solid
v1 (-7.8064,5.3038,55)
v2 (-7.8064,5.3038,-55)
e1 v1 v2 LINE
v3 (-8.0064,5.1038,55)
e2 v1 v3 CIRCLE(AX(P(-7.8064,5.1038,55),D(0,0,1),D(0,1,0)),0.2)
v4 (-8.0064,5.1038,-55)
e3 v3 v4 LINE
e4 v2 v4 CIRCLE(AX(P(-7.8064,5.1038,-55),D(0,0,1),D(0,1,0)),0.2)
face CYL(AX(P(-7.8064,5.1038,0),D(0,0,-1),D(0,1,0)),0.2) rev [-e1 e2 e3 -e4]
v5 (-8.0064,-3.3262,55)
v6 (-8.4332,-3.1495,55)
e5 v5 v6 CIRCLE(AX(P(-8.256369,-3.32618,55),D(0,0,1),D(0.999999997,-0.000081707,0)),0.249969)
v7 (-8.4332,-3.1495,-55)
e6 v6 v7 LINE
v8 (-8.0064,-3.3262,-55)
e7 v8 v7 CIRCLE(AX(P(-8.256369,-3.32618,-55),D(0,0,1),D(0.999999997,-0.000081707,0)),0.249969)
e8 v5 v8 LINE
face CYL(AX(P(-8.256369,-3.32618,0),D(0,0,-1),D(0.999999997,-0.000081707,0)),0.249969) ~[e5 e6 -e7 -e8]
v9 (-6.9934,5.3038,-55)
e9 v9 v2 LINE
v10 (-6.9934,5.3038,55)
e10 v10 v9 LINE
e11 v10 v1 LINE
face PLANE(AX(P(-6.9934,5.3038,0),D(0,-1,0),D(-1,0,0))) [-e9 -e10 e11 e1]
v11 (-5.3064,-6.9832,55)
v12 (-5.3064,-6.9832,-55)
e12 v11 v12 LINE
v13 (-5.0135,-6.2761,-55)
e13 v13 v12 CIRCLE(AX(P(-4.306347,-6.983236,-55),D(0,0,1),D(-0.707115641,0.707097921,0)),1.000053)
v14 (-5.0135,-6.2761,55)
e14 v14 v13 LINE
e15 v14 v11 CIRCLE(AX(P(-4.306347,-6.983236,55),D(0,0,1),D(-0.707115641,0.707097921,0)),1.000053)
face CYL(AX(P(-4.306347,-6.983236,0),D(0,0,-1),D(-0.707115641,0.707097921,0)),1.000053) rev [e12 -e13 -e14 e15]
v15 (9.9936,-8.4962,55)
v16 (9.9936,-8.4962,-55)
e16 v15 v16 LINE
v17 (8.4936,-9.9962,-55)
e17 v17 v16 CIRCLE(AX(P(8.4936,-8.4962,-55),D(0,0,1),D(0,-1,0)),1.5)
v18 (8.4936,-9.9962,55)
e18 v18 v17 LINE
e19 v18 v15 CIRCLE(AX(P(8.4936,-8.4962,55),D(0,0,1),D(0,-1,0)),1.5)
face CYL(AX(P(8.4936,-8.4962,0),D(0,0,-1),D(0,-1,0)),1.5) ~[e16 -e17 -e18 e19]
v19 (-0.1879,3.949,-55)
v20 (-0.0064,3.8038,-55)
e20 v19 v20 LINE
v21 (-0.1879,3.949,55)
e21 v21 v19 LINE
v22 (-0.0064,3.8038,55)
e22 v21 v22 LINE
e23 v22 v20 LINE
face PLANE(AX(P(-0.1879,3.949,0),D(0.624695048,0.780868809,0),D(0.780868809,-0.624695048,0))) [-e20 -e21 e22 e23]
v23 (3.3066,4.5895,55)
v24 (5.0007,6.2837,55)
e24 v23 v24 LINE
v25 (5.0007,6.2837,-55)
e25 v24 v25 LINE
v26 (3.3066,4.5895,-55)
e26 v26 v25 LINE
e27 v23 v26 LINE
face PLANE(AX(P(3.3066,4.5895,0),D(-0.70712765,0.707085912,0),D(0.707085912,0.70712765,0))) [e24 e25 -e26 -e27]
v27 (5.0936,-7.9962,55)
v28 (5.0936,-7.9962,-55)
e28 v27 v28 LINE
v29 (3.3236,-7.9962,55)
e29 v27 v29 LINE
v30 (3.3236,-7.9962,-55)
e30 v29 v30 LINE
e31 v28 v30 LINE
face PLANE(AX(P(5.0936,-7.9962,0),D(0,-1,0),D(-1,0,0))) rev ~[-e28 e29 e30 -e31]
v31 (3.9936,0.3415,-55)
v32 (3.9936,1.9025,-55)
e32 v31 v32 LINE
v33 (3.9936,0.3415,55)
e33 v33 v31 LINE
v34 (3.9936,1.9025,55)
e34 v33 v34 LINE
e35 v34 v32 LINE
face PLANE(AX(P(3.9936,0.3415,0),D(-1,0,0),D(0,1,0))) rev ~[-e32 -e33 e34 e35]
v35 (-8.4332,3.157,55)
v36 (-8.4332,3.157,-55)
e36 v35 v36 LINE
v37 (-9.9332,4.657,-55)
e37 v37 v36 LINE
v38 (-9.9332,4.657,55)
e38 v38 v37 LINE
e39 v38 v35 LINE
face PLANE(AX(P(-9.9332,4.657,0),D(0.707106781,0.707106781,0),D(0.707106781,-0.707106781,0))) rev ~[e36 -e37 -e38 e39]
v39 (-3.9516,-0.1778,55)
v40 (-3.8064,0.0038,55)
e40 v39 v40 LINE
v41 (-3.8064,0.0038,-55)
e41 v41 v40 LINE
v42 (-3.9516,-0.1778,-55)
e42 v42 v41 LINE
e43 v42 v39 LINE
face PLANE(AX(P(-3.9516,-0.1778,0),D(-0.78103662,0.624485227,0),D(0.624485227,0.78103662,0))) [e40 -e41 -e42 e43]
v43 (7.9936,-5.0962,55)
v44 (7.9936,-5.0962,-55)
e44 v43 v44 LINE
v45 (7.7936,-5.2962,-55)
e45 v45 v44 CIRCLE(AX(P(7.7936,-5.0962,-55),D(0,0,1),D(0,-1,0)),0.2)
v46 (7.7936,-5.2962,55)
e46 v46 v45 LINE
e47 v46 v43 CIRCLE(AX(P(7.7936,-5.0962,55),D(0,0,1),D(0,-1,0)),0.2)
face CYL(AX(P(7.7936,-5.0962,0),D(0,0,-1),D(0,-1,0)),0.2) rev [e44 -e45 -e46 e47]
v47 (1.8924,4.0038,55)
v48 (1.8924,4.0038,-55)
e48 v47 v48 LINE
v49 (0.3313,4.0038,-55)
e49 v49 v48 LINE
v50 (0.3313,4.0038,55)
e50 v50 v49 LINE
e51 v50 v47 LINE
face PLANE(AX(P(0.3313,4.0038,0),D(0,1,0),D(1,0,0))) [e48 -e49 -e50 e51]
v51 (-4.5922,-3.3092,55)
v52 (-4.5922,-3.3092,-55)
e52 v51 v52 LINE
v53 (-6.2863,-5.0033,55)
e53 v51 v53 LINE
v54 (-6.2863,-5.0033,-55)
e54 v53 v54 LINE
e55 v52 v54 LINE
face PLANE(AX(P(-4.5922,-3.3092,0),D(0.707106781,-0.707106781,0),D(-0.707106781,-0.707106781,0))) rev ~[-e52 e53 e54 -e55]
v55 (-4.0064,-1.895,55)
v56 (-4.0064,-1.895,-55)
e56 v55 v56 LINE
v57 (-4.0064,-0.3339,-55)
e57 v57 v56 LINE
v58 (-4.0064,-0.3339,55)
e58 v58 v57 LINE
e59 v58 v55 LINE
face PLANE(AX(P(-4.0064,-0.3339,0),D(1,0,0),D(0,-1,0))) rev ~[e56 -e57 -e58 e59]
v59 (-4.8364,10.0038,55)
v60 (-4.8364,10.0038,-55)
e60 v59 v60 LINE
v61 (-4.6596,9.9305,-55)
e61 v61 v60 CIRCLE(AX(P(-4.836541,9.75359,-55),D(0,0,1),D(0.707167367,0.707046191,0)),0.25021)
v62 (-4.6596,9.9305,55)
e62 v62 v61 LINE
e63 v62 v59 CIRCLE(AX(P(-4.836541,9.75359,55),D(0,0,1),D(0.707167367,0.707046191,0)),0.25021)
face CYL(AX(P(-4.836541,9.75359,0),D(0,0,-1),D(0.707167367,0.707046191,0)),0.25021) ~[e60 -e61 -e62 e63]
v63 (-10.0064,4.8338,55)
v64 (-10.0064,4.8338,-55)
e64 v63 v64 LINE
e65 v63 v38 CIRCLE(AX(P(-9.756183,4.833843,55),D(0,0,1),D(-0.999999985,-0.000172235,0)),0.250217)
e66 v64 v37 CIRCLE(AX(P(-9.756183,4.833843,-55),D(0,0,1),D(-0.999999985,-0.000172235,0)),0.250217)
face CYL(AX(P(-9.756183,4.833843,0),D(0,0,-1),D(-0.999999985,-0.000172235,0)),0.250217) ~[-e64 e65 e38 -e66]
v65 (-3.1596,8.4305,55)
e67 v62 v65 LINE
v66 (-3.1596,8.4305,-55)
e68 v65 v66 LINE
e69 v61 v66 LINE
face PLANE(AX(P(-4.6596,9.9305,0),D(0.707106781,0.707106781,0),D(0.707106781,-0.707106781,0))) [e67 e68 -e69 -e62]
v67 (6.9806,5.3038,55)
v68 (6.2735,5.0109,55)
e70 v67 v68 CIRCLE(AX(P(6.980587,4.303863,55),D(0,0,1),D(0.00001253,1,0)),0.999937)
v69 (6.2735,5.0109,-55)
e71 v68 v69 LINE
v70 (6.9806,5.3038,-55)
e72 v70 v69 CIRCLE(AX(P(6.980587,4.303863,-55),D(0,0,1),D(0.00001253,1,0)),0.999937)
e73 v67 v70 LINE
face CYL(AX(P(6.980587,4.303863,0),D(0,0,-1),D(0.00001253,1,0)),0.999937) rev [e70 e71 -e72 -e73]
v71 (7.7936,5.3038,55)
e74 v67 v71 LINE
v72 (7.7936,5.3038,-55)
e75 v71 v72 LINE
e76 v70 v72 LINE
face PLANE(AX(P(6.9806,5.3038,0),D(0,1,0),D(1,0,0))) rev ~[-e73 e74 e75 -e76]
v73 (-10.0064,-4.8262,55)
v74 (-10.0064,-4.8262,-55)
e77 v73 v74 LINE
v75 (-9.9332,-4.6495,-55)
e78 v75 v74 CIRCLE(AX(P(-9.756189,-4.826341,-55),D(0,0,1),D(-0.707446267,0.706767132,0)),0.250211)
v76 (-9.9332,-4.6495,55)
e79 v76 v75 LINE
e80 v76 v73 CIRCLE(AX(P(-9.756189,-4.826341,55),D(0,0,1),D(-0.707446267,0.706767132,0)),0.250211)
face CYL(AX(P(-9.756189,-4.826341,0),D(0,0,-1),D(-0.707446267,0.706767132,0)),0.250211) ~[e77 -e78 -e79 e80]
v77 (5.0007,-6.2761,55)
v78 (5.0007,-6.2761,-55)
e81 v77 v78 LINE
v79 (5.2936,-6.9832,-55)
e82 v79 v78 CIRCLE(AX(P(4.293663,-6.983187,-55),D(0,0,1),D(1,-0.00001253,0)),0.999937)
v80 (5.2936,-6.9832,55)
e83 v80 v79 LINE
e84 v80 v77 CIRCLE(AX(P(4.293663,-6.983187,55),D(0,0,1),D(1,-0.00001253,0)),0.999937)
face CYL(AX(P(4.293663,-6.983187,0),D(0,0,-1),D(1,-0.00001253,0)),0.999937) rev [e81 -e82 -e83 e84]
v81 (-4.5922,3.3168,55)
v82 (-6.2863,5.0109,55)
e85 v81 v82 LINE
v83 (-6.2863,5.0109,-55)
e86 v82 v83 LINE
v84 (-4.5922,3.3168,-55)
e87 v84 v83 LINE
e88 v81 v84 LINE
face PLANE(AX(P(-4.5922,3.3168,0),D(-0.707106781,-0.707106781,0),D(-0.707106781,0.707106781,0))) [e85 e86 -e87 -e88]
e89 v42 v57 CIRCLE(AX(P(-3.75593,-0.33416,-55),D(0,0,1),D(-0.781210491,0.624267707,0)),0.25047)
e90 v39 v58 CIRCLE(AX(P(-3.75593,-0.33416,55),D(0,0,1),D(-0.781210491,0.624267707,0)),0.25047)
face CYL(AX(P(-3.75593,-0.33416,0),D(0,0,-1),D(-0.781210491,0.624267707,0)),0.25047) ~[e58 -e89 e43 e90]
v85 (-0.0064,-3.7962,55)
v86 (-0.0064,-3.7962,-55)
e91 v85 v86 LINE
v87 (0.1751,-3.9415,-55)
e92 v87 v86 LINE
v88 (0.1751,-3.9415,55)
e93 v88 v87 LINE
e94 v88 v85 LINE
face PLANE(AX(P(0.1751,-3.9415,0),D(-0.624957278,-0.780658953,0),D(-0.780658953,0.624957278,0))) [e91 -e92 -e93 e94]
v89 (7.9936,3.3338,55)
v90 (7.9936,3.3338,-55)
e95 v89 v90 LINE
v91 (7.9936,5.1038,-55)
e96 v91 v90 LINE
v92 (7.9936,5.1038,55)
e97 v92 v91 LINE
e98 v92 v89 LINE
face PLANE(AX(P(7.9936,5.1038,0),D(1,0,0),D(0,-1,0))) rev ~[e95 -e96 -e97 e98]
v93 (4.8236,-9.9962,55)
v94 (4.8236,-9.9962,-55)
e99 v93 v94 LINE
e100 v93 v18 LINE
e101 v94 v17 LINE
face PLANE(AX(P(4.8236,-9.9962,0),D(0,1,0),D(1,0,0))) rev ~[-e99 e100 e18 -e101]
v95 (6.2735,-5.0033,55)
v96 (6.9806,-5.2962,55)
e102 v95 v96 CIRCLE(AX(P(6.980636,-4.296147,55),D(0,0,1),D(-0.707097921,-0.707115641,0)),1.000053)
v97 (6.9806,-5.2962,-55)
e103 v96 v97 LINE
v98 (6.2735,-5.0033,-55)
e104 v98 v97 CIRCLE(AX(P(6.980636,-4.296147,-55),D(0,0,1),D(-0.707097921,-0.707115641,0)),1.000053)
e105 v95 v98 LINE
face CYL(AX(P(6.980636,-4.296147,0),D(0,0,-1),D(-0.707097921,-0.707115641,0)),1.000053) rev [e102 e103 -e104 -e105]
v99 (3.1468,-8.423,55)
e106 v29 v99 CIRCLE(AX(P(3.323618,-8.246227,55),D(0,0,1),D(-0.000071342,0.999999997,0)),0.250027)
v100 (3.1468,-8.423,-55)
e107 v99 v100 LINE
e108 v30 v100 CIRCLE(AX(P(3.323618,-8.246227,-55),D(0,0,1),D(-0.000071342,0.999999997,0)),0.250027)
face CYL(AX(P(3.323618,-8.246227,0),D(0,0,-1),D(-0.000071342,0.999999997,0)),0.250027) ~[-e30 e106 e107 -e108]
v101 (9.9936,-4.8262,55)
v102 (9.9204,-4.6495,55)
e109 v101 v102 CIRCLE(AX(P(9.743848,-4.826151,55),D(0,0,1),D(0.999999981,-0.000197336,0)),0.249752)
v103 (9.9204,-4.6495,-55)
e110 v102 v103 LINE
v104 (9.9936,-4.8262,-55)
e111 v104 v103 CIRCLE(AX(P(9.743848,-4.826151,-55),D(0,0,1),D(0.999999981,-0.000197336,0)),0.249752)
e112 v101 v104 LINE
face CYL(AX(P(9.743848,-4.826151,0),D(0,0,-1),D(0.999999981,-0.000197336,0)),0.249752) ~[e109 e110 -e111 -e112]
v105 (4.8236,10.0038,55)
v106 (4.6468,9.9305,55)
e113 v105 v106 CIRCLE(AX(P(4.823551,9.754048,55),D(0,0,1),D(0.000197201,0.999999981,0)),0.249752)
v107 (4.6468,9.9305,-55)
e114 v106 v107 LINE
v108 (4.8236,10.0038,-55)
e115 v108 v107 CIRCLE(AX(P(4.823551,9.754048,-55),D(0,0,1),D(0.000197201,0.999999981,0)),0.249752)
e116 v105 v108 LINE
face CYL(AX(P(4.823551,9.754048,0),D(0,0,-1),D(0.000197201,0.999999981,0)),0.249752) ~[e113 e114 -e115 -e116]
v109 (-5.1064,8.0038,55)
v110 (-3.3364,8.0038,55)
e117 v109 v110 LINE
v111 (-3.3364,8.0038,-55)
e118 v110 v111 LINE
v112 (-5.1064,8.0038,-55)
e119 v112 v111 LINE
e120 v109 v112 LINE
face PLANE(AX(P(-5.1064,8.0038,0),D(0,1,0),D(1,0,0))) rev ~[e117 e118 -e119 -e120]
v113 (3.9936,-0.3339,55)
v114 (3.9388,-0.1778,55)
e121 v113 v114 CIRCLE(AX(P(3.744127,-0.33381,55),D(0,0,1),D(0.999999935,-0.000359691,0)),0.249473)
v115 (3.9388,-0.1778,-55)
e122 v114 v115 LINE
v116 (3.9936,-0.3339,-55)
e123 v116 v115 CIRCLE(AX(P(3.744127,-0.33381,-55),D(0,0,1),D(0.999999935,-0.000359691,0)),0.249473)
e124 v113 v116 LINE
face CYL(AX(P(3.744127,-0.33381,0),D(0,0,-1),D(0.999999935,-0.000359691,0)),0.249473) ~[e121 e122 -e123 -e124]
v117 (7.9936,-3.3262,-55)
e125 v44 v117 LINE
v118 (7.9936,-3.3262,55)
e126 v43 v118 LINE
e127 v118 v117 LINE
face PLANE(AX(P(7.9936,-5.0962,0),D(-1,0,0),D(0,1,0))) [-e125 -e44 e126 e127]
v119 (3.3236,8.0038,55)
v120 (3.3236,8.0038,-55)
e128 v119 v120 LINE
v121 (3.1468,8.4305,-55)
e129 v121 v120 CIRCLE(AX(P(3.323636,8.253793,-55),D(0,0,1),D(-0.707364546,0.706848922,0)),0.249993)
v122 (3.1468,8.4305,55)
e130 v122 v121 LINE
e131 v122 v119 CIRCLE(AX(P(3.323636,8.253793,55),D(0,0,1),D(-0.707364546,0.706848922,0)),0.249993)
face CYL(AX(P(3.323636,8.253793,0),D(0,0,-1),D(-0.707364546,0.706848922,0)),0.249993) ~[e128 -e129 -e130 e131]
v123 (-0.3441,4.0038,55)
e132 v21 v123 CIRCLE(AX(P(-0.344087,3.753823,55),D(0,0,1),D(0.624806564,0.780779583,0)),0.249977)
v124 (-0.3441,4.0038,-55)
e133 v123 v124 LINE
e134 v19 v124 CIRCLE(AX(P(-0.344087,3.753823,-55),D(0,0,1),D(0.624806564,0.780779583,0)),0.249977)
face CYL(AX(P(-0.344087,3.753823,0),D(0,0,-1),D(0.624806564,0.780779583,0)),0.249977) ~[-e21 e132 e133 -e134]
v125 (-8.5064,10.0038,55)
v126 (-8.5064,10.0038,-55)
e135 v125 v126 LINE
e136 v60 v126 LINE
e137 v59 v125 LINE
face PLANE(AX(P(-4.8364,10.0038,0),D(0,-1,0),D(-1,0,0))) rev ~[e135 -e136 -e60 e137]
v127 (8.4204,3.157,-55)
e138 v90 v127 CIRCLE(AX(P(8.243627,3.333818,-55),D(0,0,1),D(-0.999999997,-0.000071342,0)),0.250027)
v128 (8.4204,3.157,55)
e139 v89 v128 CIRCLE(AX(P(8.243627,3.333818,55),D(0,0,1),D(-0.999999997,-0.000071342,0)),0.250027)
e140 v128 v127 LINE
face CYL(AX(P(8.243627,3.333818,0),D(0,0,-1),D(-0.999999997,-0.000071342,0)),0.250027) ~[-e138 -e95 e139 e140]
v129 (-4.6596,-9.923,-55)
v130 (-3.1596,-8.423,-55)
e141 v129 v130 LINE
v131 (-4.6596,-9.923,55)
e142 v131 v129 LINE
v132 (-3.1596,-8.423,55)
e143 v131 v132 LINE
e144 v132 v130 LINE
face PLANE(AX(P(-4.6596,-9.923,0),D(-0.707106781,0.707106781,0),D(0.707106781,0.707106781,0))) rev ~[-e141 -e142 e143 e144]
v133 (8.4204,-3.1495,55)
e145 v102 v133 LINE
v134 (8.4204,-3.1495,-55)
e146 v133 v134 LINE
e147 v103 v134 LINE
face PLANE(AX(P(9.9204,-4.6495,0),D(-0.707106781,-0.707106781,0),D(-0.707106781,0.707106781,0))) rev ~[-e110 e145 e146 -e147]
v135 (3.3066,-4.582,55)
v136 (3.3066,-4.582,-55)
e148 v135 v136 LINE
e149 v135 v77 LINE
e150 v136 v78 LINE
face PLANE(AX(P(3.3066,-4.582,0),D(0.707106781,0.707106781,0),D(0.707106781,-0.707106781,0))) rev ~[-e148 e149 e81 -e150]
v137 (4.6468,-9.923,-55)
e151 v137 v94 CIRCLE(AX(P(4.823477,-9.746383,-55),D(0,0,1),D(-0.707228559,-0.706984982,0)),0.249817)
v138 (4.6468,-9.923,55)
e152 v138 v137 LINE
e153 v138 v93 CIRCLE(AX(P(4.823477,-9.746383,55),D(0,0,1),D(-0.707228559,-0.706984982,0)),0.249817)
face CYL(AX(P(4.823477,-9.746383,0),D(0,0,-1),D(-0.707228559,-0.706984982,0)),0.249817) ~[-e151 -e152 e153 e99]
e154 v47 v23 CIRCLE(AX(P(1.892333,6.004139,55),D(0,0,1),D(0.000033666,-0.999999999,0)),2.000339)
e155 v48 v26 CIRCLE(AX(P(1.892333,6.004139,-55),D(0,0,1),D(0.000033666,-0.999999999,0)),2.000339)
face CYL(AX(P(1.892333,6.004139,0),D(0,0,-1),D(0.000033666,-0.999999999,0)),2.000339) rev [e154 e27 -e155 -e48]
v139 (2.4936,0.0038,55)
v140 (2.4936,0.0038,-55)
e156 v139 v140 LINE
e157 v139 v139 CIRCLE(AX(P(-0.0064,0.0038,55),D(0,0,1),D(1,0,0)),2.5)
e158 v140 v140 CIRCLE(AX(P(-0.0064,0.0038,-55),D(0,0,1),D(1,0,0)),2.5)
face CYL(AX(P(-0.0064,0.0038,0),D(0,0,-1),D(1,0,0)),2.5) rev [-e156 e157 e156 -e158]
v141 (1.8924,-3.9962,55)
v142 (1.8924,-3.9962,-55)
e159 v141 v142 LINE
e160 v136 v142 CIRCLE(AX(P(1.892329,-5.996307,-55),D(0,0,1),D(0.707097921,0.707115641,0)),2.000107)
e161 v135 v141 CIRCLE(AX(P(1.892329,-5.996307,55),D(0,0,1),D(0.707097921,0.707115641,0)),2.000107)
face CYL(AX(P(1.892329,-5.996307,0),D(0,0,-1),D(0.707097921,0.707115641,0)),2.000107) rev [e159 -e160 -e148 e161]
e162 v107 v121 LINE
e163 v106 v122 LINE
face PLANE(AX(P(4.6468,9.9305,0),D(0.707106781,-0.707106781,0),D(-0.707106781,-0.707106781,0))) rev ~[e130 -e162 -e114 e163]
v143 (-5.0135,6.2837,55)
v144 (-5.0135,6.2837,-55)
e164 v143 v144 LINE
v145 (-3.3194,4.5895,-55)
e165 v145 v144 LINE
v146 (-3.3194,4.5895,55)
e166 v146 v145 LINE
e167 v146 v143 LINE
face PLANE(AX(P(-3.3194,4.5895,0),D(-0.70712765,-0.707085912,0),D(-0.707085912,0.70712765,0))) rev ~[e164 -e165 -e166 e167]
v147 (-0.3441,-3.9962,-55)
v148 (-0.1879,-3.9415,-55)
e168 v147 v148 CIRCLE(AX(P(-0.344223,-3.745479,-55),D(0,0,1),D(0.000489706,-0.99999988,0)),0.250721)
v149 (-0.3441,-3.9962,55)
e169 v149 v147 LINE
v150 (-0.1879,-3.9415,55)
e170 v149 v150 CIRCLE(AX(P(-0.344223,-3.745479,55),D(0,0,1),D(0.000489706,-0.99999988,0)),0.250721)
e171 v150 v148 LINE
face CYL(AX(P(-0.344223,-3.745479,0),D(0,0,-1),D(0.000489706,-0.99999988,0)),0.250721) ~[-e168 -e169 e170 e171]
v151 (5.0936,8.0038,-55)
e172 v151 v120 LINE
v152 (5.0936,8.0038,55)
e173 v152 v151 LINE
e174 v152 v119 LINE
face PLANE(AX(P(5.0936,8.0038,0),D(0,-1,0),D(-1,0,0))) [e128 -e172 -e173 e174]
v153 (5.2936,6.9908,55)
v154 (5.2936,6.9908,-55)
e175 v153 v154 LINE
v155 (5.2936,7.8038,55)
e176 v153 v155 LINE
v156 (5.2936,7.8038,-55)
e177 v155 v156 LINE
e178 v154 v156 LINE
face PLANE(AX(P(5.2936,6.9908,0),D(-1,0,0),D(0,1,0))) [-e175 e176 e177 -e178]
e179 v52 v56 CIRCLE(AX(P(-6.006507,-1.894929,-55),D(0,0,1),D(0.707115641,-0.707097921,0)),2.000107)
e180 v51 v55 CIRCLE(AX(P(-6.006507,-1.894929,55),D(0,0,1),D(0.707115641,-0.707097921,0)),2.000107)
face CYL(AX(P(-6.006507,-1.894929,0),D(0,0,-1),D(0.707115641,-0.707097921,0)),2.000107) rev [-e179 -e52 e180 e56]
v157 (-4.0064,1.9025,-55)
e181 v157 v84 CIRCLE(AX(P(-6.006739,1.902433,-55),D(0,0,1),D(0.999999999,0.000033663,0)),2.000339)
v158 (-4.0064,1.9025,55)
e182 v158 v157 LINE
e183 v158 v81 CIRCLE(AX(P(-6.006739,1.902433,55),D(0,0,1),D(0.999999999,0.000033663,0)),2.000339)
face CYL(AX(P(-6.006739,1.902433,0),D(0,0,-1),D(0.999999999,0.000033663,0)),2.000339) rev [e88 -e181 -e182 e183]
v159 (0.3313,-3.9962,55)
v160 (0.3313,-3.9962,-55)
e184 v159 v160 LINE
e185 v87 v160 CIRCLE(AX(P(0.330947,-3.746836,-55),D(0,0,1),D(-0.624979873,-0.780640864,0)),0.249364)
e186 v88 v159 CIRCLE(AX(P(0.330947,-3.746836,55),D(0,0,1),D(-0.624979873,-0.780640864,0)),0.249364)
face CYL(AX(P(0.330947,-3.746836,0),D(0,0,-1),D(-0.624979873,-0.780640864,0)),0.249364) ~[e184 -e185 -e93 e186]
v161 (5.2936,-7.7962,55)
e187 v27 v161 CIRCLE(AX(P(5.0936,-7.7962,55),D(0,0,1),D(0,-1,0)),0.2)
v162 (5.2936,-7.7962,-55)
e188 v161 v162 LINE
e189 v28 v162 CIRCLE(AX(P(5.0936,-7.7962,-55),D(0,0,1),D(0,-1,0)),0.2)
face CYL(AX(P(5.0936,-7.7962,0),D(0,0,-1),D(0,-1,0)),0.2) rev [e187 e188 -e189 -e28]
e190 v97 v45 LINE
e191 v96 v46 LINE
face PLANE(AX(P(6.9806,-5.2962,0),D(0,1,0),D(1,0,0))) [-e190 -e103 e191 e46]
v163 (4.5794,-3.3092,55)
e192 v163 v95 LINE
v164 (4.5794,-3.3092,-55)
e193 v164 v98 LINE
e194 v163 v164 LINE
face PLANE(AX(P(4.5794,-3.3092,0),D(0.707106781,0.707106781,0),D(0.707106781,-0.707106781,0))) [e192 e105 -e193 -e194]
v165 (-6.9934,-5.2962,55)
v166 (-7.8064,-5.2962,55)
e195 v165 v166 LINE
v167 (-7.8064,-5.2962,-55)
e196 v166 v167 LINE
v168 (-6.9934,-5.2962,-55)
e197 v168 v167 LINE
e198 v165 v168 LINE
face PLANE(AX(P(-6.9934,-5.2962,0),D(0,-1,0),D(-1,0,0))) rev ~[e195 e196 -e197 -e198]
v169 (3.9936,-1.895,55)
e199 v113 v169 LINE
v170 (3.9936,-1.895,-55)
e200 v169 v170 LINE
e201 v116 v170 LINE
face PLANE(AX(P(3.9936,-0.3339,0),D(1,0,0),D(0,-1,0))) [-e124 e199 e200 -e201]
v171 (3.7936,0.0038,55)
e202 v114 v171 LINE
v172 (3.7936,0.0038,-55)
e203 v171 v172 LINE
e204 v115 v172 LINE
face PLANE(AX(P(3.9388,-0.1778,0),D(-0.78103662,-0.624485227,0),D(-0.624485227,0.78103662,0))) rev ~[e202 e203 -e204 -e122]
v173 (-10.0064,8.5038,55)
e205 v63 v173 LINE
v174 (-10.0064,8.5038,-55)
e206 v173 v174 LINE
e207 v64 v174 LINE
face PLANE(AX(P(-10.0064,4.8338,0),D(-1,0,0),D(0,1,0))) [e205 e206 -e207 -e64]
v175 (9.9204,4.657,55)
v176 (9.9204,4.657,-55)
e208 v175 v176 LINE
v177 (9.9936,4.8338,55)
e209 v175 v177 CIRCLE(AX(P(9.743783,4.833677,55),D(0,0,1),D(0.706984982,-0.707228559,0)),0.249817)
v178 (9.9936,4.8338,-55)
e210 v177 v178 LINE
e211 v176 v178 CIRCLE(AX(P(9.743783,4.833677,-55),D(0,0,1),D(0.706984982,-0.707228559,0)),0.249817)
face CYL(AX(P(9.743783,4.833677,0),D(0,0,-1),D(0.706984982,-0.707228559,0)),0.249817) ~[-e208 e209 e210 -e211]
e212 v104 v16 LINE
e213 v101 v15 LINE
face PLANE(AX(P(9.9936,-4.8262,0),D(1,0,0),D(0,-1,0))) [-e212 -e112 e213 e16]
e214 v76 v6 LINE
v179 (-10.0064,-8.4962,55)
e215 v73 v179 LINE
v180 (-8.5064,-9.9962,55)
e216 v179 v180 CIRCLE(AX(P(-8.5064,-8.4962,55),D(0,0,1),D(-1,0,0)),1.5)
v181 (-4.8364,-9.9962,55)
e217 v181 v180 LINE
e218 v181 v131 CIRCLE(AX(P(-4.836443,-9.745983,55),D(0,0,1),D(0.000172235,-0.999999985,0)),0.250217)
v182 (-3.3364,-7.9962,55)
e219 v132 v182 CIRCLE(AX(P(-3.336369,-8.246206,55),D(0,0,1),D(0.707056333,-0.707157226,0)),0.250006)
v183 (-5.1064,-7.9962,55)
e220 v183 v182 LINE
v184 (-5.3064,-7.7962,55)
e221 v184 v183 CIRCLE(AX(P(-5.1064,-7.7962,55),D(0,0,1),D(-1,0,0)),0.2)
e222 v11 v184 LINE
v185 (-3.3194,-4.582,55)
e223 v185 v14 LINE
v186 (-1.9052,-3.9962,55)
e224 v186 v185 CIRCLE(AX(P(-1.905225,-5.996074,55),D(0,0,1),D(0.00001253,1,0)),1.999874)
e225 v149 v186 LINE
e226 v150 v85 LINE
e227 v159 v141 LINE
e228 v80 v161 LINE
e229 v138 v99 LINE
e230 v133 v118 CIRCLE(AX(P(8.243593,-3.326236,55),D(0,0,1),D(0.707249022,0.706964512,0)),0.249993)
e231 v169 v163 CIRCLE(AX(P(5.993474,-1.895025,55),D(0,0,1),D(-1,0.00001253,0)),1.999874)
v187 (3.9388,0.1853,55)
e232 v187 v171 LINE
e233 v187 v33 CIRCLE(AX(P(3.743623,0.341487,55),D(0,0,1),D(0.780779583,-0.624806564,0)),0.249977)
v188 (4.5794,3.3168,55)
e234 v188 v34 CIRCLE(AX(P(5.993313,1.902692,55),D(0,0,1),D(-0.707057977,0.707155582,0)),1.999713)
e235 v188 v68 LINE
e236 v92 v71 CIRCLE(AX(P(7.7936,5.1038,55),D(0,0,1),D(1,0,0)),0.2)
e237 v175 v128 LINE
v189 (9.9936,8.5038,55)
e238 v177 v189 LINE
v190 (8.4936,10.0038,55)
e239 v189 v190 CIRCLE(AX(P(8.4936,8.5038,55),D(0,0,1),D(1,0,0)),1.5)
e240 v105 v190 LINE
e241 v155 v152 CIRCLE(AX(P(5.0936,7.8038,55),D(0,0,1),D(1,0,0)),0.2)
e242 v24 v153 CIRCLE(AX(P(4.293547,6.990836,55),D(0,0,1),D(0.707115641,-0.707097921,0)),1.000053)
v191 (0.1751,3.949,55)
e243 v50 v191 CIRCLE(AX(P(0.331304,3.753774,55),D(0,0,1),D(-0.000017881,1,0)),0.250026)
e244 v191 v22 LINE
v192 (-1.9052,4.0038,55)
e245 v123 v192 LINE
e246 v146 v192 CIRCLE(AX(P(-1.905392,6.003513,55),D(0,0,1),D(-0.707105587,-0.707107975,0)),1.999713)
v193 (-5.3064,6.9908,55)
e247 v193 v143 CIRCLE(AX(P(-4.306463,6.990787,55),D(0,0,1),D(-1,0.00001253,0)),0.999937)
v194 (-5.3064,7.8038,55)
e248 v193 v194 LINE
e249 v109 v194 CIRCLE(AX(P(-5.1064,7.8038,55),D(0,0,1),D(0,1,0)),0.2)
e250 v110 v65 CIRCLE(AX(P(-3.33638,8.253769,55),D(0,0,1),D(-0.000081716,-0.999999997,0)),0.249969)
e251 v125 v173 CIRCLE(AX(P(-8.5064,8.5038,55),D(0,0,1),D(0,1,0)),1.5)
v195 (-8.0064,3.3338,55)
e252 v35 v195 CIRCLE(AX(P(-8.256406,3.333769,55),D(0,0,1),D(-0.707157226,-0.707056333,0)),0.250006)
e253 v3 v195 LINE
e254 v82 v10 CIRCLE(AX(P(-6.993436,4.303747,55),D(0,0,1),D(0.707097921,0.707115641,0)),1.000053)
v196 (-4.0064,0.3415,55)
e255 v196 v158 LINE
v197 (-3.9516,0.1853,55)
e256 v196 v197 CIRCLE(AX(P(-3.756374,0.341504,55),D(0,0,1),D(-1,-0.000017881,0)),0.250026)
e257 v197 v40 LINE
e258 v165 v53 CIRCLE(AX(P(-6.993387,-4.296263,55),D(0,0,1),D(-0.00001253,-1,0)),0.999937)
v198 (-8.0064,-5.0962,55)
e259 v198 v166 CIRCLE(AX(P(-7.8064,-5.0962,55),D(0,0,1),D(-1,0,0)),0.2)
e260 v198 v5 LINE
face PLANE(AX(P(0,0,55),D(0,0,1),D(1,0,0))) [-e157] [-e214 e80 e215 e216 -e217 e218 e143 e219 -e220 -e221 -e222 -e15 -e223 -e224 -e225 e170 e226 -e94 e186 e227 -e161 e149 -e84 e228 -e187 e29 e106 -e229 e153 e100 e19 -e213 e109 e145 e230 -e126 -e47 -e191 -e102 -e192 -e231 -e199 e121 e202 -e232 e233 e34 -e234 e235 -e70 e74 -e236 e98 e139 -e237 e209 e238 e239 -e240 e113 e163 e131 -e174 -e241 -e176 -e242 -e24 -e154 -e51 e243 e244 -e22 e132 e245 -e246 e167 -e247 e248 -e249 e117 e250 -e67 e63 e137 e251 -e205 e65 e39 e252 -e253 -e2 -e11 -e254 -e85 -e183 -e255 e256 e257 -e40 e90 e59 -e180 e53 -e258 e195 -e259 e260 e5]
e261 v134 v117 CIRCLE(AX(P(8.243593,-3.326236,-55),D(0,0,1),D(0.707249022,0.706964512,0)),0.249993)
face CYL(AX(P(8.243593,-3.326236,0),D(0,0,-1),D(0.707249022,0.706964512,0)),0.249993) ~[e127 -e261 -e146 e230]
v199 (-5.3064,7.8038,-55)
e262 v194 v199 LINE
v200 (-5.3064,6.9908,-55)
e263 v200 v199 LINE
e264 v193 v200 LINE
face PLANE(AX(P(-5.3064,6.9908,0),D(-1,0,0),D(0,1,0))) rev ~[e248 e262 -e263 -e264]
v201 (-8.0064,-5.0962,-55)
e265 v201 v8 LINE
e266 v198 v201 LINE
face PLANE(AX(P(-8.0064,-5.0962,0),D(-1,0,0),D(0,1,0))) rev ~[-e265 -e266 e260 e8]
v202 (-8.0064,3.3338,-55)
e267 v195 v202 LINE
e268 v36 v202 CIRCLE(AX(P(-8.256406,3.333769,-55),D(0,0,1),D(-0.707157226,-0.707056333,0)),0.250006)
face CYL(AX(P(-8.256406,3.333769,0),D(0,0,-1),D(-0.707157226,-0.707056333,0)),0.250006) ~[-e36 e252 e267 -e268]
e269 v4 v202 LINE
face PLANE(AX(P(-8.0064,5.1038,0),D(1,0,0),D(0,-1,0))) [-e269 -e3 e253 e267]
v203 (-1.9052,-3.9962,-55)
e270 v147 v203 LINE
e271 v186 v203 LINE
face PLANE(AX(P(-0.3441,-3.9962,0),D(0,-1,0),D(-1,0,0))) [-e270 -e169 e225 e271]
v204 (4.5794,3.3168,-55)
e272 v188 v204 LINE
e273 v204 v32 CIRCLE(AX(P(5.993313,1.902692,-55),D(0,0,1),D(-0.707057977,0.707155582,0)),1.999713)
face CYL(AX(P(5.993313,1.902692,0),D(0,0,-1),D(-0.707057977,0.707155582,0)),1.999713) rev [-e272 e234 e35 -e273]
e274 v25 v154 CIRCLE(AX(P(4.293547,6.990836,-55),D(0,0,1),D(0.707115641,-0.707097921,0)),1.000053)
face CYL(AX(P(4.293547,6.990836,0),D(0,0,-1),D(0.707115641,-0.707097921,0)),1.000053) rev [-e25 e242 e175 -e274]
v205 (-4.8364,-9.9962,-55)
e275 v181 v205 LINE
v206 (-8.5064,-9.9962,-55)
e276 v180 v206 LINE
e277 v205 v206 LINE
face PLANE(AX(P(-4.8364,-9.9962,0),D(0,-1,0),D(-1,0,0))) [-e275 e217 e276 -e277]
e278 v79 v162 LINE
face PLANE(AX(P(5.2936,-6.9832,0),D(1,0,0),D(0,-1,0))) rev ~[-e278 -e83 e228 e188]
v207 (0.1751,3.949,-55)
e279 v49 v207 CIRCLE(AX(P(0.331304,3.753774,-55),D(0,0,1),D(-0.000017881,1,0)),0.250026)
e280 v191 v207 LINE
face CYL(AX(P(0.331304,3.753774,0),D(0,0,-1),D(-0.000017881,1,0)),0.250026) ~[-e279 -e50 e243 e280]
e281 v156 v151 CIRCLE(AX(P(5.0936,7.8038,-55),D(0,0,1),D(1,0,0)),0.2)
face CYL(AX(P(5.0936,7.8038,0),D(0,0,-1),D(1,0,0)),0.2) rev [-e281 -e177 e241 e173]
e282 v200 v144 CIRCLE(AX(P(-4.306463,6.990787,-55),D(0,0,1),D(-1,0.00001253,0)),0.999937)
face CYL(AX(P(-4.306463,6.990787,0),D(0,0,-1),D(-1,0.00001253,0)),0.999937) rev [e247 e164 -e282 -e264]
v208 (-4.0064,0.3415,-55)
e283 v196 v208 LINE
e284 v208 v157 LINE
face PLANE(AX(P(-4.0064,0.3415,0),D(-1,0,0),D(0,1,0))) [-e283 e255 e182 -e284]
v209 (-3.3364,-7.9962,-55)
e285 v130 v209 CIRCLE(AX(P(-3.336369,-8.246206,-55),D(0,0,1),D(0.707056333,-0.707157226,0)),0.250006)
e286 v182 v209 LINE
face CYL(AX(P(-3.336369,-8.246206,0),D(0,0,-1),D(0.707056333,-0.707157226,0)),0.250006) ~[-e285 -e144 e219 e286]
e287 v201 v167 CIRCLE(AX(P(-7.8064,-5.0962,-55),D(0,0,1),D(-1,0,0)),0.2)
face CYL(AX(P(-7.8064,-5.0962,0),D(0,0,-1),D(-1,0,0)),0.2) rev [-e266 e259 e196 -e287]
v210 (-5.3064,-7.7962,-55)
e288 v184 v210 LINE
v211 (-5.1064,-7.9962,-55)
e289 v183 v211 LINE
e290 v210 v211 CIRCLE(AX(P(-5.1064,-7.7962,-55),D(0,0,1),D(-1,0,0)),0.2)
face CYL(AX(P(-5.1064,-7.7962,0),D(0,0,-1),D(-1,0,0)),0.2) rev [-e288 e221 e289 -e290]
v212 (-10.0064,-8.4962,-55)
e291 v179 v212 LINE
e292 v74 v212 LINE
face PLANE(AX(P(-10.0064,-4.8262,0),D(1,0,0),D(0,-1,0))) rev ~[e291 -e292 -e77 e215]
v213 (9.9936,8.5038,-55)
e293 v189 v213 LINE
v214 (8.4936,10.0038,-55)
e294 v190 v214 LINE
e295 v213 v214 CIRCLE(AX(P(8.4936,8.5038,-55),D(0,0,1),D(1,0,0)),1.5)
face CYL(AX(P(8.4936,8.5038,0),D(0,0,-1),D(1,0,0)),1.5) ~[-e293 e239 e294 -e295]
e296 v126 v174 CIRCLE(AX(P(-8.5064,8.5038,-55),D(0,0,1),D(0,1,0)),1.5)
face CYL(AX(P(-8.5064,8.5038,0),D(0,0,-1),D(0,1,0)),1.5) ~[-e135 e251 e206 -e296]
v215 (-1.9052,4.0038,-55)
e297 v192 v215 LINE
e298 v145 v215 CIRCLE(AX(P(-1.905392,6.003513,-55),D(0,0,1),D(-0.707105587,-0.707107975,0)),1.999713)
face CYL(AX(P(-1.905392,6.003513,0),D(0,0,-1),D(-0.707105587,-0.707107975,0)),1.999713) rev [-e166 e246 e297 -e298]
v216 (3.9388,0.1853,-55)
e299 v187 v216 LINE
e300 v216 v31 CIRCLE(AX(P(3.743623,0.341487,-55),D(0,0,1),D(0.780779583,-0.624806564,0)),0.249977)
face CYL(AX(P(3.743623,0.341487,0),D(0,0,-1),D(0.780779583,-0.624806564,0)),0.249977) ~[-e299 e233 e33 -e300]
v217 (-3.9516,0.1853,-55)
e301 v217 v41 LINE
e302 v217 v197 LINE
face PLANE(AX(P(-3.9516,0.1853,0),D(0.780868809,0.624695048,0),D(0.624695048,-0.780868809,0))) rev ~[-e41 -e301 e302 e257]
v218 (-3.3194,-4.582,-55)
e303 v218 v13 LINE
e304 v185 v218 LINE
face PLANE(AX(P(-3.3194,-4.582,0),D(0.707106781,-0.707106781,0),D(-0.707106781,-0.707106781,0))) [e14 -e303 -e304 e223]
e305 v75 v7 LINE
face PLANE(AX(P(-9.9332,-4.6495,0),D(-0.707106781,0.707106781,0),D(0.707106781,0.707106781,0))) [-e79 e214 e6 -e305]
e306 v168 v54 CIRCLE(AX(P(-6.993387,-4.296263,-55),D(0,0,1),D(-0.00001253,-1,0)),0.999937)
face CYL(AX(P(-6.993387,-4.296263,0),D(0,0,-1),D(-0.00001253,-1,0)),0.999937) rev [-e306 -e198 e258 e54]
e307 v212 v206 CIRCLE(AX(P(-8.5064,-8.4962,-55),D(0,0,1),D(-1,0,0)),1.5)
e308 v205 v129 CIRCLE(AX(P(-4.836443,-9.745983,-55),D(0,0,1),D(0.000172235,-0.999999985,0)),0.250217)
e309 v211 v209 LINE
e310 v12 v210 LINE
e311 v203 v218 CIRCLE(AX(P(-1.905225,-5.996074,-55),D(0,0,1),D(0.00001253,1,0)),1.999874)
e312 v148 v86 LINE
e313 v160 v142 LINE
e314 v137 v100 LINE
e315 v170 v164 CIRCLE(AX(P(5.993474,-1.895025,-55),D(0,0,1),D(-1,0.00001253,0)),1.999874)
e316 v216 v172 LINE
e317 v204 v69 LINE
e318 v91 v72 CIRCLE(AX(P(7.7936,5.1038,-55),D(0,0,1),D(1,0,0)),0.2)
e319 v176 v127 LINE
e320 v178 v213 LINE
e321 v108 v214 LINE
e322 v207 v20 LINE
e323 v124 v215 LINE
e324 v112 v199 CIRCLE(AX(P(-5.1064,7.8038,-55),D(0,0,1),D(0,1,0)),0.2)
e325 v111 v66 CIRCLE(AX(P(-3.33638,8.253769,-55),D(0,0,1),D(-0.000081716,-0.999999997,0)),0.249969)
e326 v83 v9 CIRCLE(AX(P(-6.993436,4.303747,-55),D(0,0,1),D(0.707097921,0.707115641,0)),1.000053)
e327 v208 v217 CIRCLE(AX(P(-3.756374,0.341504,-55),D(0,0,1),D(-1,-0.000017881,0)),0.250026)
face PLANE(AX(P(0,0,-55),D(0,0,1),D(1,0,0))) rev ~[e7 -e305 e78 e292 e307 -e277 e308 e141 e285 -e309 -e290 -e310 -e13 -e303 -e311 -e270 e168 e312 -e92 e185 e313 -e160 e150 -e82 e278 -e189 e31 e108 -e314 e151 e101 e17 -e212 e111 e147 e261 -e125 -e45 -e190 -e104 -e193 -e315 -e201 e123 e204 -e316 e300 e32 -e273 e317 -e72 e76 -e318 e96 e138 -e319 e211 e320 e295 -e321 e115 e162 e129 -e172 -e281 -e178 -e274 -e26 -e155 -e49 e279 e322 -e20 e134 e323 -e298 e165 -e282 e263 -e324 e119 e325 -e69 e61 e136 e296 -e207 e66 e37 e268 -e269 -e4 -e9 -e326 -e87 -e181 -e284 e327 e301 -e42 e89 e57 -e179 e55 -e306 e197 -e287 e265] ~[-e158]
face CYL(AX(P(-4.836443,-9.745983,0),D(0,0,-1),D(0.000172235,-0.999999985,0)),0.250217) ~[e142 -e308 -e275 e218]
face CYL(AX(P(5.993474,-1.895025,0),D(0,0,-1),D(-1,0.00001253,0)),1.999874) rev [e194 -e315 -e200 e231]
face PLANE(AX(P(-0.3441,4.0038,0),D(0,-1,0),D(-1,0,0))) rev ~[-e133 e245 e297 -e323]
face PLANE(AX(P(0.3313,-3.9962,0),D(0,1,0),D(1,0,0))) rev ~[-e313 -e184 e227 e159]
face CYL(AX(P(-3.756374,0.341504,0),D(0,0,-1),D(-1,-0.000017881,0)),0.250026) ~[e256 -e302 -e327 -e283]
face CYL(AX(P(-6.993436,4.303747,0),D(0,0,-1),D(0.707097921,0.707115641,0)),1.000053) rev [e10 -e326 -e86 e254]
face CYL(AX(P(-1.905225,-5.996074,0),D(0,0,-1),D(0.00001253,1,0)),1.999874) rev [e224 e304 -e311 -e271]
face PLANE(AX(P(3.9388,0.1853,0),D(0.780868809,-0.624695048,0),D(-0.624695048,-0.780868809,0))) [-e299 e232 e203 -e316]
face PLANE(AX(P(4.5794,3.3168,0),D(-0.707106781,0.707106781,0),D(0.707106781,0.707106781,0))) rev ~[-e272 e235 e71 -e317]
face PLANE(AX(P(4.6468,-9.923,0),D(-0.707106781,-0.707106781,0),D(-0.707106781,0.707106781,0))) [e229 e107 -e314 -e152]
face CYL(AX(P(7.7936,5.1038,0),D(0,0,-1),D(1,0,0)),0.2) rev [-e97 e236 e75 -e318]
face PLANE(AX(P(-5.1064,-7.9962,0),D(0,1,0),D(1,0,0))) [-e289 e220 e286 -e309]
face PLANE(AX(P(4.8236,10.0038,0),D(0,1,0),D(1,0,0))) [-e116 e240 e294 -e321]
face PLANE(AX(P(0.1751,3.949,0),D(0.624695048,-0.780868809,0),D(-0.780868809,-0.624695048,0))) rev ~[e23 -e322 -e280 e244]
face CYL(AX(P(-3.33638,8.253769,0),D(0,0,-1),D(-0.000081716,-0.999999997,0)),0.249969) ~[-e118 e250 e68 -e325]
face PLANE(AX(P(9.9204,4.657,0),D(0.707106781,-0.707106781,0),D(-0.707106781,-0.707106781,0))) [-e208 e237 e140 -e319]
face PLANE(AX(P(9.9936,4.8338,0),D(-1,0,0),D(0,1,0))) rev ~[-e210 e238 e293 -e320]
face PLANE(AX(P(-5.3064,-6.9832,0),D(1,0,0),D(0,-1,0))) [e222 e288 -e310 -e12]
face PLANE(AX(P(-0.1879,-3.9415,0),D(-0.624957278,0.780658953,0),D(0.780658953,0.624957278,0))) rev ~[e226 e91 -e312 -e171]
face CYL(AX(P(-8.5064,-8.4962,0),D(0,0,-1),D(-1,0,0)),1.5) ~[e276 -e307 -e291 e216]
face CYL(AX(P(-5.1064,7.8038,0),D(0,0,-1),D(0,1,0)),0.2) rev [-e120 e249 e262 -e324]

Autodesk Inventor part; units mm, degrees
ref_plane "YZ Plane" through (0, 0, 0) normal (1, 0, 0) x (0, 1, 0)
ref_plane "XZ Plane" through (0, 0, 0) normal (0, 1, 0) x (-1, 0, 0)
ref_plane "XY Plane" through (0, 0, 0) normal (0, 0, 1) x (1, 0, 0)
sketch "Эскиз1" plane through (0, 0, 0) normal (0, 0, 1) x (1, 0, 0)
  line L0 (-3.9516, 0.1853) -> (-3.8064, 0.0038)
  line L1 (-3.9516, -0.1778) -> (-3.8064, 0.0038)
  arc A0 (-3.9516, -0.1778) -> (-4.0064, -0.3339) centre (-3.7564, -0.3339) ccw
  line L2 (-4.0064, -0.3339) -> (-4.0064, -1.895)
  arc A1 (-4.5922, -3.3092) -> (-4.0064, -1.895) centre (-6.0064, -1.895) ccw
  line L3 (-4.5922, -3.3092) -> (-6.2863, -5.0033)
  arc A2 (-6.9934, -5.2962) -> (-6.2863, -5.0033) centre (-6.9934, -4.2962) ccw
  line L4 (-6.9934, -5.2962) -> (-7.8064, -5.2962)
  arc A3 (-8.0064, -5.0962) -> (-7.8064, -5.2962) centre (-7.8064, -5.0962) ccw
  line L5 (-8.0064, -5.0962) -> (-8.0064, -3.3262)
  arc A4 (-8.0064, -3.3262) -> (-8.4332, -3.1495) centre (-8.2564, -3.3262) ccw
  line L6 (-9.9332, -4.6495) -> (-8.4332, -3.1495)
  arc A5 (-9.9332, -4.6495) -> (-10.0064, -4.8262) centre (-9.7564, -4.8262) ccw
  line L7 (-10.0064, -4.8262) -> (-10.0064, -8.4962)
  arc A6 (-10.0064, -8.4962) -> (-8.5064, -9.9962) centre (-8.5064, -8.4962) ccw
  line L8 (-4.8364, -9.9962) -> (-8.5064, -9.9962)
  arc A7 (-4.8364, -9.9962) -> (-4.6596, -9.923) centre (-4.8364, -9.7462) ccw
  line L9 (-4.6596, -9.923) -> (-3.1596, -8.423)
  arc A8 (-3.1596, -8.423) -> (-3.3364, -7.9962) centre (-3.3364, -8.2462) ccw
  line L10 (-5.1064, -7.9962) -> (-3.3364, -7.9962)
  arc A9 (-5.3064, -7.7962) -> (-5.1064, -7.9962) centre (-5.1064, -7.7962) ccw
  line L11 (-5.3064, -6.9832) -> (-5.3064, -7.7962)
  arc A10 (-5.0135, -6.2761) -> (-5.3064, -6.9832) centre (-4.3064, -6.9832) ccw
  line L12 (-3.3194, -4.582) -> (-5.0135, -6.2761)
  arc A11 (-1.9052, -3.9962) -> (-3.3194, -4.582) centre (-1.9052, -5.9962) ccw
  line L13 (-0.3441, -3.9962) -> (-1.9052, -3.9962)
  arc A12 (-0.3441, -3.9962) -> (-0.1879, -3.9415) centre (-0.3441, -3.7462) ccw
  line L14 (-0.1879, -3.9415) -> (-0.0064, -3.7962)
  line L15 (0.1751, -3.9415) -> (-0.0064, -3.7962)
  arc A13 (0.1751, -3.9415) -> (0.3313, -3.9962) centre (0.3313, -3.7462) ccw
  line L16 (0.3313, -3.9962) -> (1.8924, -3.9962)
  arc A14 (3.3066, -4.582) -> (1.8924, -3.9962) centre (1.8924, -5.9962) ccw
  line L17 (3.3066, -4.582) -> (5.0007, -6.2761)
  arc A15 (5.2936, -6.9832) -> (5.0007, -6.2761) centre (4.2936, -6.9832) ccw
  line L18 (5.2936, -6.9832) -> (5.2936, -7.7962)
  arc A16 (5.0936, -7.9962) -> (5.2936, -7.7962) centre (5.0936, -7.7962) ccw
  line L19 (5.0936, -7.9962) -> (3.3236, -7.9962)
  arc A17 (3.3236, -7.9962) -> (3.1468, -8.423) centre (3.3236, -8.2462) ccw
  line L20 (4.6468, -9.923) -> (3.1468, -8.423)
  arc A18 (4.6468, -9.923) -> (4.8236, -9.9962) centre (4.8236, -9.7462) ccw
  line L21 (4.8236, -9.9962) -> (8.4936, -9.9962)
  arc A19 (8.4936, -9.9962) -> (9.9936, -8.4962) centre (8.4936, -8.4962) ccw
  line L22 (9.9936, -4.8262) -> (9.9936, -8.4962)
  arc A20 (9.9936, -4.8262) -> (9.9204, -4.6495) centre (9.7436, -4.8262) ccw
  line L23 (9.9204, -4.6495) -> (8.4204, -3.1495)
  arc A21 (8.4204, -3.1495) -> (7.9936, -3.3262) centre (8.2436, -3.3262) ccw
  line L24 (7.9936, -5.0962) -> (7.9936, -3.3262)
  arc A22 (7.7936, -5.2962) -> (7.9936, -5.0962) centre (7.7936, -5.0962) ccw
  line L25 (6.9806, -5.2962) -> (7.7936, -5.2962)
  arc A23 (6.2735, -5.0033) -> (6.9806, -5.2962) centre (6.9806, -4.2962) ccw
  line L26 (4.5794, -3.3092) -> (6.2735, -5.0033)
  arc A24 (3.9936, -1.895) -> (4.5794, -3.3092) centre (5.9936, -1.895) ccw
  line L27 (3.9936, -0.3339) -> (3.9936, -1.895)
  arc A25 (3.9936, -0.3339) -> (3.9388, -0.1778) centre (3.7436, -0.3339) ccw
  line L28 (3.9388, -0.1778) -> (3.7936, 0.0038)
  line L29 (3.9388, 0.1853) -> (3.7936, 0.0038)
  arc A26 (3.9388, 0.1853) -> (3.9936, 0.3415) centre (3.7436, 0.3415) ccw
  line L30 (3.9936, 0.3415) -> (3.9936, 1.9025)
  arc A27 (4.5794, 3.3168) -> (3.9936, 1.9025) centre (5.9936, 1.9025) ccw
  line L31 (4.5794, 3.3168) -> (6.2735, 5.0109)
  arc A28 (6.9806, 5.3038) -> (6.2735, 5.0109) centre (6.9806, 4.3038) ccw
  line L32 (6.9806, 5.3038) -> (7.7936, 5.3038)
  arc A29 (7.9936, 5.1038) -> (7.7936, 5.3038) centre (7.7936, 5.1038) ccw
  line L33 (7.9936, 5.1038) -> (7.9936, 3.3338)
  arc A30 (7.9936, 3.3338) -> (8.4204, 3.157) centre (8.2436, 3.3338) ccw
  line L34 (9.9204, 4.657) -> (8.4204, 3.157)
  arc A31 (9.9204, 4.657) -> (9.9936, 4.8338) centre (9.7436, 4.8338) ccw
  line L35 (9.9936, 4.8338) -> (9.9936, 8.5038)
  arc A32 (9.9936, 8.5038) -> (8.4936, 10.0038) centre (8.4936, 8.5038) ccw
  line L36 (4.8236, 10.0038) -> (8.4936, 10.0038)
  arc A33 (4.8236, 10.0038) -> (4.6468, 9.9305) centre (4.8236, 9.7538) ccw
  line L37 (4.6468, 9.9305) -> (3.1468, 8.4305)
  arc A34 (3.1468, 8.4305) -> (3.3236, 8.0038) centre (3.3236, 8.2538) ccw
  line L38 (5.0936, 8.0038) -> (3.3236, 8.0038)
  arc A35 (5.2936, 7.8038) -> (5.0936, 8.0038) centre (5.0936, 7.8038) ccw
  line L39 (5.2936, 6.9908) -> (5.2936, 7.8038)
  arc A36 (5.0007, 6.2837) -> (5.2936, 6.9908) centre (4.2936, 6.9908) ccw
  line L40 (3.3066, 4.5895) -> (5.0007, 6.2837)
  arc A37 (1.8924, 4.0038) -> (3.3066, 4.5895) centre (1.8924, 6.0038) ccw
  line L41 (0.3313, 4.0038) -> (1.8924, 4.0038)
  arc A38 (0.3313, 4.0038) -> (0.1751, 3.949) centre (0.3313, 3.7538) ccw
  line L42 (0.1751, 3.949) -> (-0.0064, 3.8038)
  line L43 (-0.1879, 3.949) -> (-0.0064, 3.8038)
  arc A39 (-0.1879, 3.949) -> (-0.3441, 4.0038) centre (-0.3441, 3.7538) ccw
  line L44 (-0.3441, 4.0038) -> (-1.9052, 4.0038)
  arc A40 (-3.3194, 4.5895) -> (-1.9052, 4.0038) centre (-1.9052, 6.0038) ccw
  line L45 (-3.3194, 4.5895) -> (-5.0135, 6.2837)
  arc A41 (-5.3064, 6.9908) -> (-5.0135, 6.2837) centre (-4.3064, 6.9908) ccw
  line L46 (-5.3064, 6.9908) -> (-5.3064, 7.8038)
  arc A42 (-5.1064, 8.0038) -> (-5.3064, 7.8038) centre (-5.1064, 7.8038) ccw
  line L47 (-5.1064, 8.0038) -> (-3.3364, 8.0038)
  arc A43 (-3.3364, 8.0038) -> (-3.1596, 8.4305) centre (-3.3364, 8.2538) ccw
  line L48 (-4.6596, 9.9305) -> (-3.1596, 8.4305)
  arc A44 (-4.6596, 9.9305) -> (-4.8364, 10.0038) centre (-4.8364, 9.7538) ccw
  line L49 (-4.8364, 10.0038) -> (-8.5064, 10.0038)
  arc A45 (-8.5064, 10.0038) -> (-10.0064, 8.5038) centre (-8.5064, 8.5038) ccw
  line L50 (-10.0064, 4.8338) -> (-10.0064, 8.5038)
  arc A46 (-10.0064, 4.8338) -> (-9.9332, 4.657) centre (-9.7564, 4.8338) ccw
  line L51 (-9.9332, 4.657) -> (-8.4332, 3.157)
  arc A47 (-8.4332, 3.157) -> (-8.0064, 3.3338) centre (-8.2564, 3.3338) ccw
  line L52 (-8.0064, 5.1038) -> (-8.0064, 3.3338)
  arc A48 (-7.8064, 5.3038) -> (-8.0064, 5.1038) centre (-7.8064, 5.1038) ccw
  line L53 (-6.9934, 5.3038) -> (-7.8064, 5.3038)
  arc A49 (-6.2863, 5.0109) -> (-6.9934, 5.3038) centre (-6.9934, 4.3038) ccw
  line L54 (-4.5922, 3.3168) -> (-6.2863, 5.0109)
  arc A50 (-4.0064, 1.9025) -> (-4.5922, 3.3168) centre (-6.0064, 1.9025) ccw
  line L55 (-4.0064, 0.3415) -> (-4.0064, 1.9025)
  arc A51 (-4.0064, 0.3415) -> (-3.9516, 0.1853) centre (-3.7564, 0.3415) ccw
  circle A52 centre (-0.0064, 0.0038) radius 2.5
  point P0 (0, 0)
  point P1 (-0.0064, 0.0038)
  dimension "d0" = 0.25
  dimension "d1" = 1.5
  dimension "d2" = 0.2
  dimension "d3" = 1
  dimension "d4" = 2
  dimension "d5" = 5
  dimension "d6" = 135
  dimension "d7" = 38.66
  dimension "d8" = 38.66
  dimension "d9" = 45
  dimension "d10" = 2
  dimension "d11" = 4.7
  dimension "d12" = 14
  dimension "d13" = 15.3
  dimension "d14" = 20
  dimension "d15" = 2.829
  dimension "d16" = 4.629
  dimension "d17" = 7.4579
  dimension "d18" = 2.829
  dimension "d19" = 4.629
  dimension "d20" = 7.4579
  dimension "d21" = 10.6
  dimension "d22" = 4.7
  dimension "d23" = 15.3
  dimension "d24" = 2.7
  dimension "d25" = 13.3
  dimension "d26" = 5.9346
  dimension "d27" = 5.9346
  dimension "d28" = 5.9346
  dimension "d29" = 5.9346
  dimension "d30" = 9.9936
  dimension "d31" = 3.7218
  dimension "d32" = 3.7271
  dimension "d33" = 5.3038
  dimension "d34" = 2.96
  dimension "d35" = 2.9647
  dimension "d36" = 2.9742
  dimension "d37" = 2.9684
  dimension "d38" = 8.0064
  dimension "d39" = 10
  dimension "d40" = 3.729
  dimension "d41" = 10
  dimension "d42" = 3.729
extrude "Выдавливание1" add sketch "Эскиз1" along normal mid plane 110
properties part number "AP20x20" material "Aluminium 6061"
